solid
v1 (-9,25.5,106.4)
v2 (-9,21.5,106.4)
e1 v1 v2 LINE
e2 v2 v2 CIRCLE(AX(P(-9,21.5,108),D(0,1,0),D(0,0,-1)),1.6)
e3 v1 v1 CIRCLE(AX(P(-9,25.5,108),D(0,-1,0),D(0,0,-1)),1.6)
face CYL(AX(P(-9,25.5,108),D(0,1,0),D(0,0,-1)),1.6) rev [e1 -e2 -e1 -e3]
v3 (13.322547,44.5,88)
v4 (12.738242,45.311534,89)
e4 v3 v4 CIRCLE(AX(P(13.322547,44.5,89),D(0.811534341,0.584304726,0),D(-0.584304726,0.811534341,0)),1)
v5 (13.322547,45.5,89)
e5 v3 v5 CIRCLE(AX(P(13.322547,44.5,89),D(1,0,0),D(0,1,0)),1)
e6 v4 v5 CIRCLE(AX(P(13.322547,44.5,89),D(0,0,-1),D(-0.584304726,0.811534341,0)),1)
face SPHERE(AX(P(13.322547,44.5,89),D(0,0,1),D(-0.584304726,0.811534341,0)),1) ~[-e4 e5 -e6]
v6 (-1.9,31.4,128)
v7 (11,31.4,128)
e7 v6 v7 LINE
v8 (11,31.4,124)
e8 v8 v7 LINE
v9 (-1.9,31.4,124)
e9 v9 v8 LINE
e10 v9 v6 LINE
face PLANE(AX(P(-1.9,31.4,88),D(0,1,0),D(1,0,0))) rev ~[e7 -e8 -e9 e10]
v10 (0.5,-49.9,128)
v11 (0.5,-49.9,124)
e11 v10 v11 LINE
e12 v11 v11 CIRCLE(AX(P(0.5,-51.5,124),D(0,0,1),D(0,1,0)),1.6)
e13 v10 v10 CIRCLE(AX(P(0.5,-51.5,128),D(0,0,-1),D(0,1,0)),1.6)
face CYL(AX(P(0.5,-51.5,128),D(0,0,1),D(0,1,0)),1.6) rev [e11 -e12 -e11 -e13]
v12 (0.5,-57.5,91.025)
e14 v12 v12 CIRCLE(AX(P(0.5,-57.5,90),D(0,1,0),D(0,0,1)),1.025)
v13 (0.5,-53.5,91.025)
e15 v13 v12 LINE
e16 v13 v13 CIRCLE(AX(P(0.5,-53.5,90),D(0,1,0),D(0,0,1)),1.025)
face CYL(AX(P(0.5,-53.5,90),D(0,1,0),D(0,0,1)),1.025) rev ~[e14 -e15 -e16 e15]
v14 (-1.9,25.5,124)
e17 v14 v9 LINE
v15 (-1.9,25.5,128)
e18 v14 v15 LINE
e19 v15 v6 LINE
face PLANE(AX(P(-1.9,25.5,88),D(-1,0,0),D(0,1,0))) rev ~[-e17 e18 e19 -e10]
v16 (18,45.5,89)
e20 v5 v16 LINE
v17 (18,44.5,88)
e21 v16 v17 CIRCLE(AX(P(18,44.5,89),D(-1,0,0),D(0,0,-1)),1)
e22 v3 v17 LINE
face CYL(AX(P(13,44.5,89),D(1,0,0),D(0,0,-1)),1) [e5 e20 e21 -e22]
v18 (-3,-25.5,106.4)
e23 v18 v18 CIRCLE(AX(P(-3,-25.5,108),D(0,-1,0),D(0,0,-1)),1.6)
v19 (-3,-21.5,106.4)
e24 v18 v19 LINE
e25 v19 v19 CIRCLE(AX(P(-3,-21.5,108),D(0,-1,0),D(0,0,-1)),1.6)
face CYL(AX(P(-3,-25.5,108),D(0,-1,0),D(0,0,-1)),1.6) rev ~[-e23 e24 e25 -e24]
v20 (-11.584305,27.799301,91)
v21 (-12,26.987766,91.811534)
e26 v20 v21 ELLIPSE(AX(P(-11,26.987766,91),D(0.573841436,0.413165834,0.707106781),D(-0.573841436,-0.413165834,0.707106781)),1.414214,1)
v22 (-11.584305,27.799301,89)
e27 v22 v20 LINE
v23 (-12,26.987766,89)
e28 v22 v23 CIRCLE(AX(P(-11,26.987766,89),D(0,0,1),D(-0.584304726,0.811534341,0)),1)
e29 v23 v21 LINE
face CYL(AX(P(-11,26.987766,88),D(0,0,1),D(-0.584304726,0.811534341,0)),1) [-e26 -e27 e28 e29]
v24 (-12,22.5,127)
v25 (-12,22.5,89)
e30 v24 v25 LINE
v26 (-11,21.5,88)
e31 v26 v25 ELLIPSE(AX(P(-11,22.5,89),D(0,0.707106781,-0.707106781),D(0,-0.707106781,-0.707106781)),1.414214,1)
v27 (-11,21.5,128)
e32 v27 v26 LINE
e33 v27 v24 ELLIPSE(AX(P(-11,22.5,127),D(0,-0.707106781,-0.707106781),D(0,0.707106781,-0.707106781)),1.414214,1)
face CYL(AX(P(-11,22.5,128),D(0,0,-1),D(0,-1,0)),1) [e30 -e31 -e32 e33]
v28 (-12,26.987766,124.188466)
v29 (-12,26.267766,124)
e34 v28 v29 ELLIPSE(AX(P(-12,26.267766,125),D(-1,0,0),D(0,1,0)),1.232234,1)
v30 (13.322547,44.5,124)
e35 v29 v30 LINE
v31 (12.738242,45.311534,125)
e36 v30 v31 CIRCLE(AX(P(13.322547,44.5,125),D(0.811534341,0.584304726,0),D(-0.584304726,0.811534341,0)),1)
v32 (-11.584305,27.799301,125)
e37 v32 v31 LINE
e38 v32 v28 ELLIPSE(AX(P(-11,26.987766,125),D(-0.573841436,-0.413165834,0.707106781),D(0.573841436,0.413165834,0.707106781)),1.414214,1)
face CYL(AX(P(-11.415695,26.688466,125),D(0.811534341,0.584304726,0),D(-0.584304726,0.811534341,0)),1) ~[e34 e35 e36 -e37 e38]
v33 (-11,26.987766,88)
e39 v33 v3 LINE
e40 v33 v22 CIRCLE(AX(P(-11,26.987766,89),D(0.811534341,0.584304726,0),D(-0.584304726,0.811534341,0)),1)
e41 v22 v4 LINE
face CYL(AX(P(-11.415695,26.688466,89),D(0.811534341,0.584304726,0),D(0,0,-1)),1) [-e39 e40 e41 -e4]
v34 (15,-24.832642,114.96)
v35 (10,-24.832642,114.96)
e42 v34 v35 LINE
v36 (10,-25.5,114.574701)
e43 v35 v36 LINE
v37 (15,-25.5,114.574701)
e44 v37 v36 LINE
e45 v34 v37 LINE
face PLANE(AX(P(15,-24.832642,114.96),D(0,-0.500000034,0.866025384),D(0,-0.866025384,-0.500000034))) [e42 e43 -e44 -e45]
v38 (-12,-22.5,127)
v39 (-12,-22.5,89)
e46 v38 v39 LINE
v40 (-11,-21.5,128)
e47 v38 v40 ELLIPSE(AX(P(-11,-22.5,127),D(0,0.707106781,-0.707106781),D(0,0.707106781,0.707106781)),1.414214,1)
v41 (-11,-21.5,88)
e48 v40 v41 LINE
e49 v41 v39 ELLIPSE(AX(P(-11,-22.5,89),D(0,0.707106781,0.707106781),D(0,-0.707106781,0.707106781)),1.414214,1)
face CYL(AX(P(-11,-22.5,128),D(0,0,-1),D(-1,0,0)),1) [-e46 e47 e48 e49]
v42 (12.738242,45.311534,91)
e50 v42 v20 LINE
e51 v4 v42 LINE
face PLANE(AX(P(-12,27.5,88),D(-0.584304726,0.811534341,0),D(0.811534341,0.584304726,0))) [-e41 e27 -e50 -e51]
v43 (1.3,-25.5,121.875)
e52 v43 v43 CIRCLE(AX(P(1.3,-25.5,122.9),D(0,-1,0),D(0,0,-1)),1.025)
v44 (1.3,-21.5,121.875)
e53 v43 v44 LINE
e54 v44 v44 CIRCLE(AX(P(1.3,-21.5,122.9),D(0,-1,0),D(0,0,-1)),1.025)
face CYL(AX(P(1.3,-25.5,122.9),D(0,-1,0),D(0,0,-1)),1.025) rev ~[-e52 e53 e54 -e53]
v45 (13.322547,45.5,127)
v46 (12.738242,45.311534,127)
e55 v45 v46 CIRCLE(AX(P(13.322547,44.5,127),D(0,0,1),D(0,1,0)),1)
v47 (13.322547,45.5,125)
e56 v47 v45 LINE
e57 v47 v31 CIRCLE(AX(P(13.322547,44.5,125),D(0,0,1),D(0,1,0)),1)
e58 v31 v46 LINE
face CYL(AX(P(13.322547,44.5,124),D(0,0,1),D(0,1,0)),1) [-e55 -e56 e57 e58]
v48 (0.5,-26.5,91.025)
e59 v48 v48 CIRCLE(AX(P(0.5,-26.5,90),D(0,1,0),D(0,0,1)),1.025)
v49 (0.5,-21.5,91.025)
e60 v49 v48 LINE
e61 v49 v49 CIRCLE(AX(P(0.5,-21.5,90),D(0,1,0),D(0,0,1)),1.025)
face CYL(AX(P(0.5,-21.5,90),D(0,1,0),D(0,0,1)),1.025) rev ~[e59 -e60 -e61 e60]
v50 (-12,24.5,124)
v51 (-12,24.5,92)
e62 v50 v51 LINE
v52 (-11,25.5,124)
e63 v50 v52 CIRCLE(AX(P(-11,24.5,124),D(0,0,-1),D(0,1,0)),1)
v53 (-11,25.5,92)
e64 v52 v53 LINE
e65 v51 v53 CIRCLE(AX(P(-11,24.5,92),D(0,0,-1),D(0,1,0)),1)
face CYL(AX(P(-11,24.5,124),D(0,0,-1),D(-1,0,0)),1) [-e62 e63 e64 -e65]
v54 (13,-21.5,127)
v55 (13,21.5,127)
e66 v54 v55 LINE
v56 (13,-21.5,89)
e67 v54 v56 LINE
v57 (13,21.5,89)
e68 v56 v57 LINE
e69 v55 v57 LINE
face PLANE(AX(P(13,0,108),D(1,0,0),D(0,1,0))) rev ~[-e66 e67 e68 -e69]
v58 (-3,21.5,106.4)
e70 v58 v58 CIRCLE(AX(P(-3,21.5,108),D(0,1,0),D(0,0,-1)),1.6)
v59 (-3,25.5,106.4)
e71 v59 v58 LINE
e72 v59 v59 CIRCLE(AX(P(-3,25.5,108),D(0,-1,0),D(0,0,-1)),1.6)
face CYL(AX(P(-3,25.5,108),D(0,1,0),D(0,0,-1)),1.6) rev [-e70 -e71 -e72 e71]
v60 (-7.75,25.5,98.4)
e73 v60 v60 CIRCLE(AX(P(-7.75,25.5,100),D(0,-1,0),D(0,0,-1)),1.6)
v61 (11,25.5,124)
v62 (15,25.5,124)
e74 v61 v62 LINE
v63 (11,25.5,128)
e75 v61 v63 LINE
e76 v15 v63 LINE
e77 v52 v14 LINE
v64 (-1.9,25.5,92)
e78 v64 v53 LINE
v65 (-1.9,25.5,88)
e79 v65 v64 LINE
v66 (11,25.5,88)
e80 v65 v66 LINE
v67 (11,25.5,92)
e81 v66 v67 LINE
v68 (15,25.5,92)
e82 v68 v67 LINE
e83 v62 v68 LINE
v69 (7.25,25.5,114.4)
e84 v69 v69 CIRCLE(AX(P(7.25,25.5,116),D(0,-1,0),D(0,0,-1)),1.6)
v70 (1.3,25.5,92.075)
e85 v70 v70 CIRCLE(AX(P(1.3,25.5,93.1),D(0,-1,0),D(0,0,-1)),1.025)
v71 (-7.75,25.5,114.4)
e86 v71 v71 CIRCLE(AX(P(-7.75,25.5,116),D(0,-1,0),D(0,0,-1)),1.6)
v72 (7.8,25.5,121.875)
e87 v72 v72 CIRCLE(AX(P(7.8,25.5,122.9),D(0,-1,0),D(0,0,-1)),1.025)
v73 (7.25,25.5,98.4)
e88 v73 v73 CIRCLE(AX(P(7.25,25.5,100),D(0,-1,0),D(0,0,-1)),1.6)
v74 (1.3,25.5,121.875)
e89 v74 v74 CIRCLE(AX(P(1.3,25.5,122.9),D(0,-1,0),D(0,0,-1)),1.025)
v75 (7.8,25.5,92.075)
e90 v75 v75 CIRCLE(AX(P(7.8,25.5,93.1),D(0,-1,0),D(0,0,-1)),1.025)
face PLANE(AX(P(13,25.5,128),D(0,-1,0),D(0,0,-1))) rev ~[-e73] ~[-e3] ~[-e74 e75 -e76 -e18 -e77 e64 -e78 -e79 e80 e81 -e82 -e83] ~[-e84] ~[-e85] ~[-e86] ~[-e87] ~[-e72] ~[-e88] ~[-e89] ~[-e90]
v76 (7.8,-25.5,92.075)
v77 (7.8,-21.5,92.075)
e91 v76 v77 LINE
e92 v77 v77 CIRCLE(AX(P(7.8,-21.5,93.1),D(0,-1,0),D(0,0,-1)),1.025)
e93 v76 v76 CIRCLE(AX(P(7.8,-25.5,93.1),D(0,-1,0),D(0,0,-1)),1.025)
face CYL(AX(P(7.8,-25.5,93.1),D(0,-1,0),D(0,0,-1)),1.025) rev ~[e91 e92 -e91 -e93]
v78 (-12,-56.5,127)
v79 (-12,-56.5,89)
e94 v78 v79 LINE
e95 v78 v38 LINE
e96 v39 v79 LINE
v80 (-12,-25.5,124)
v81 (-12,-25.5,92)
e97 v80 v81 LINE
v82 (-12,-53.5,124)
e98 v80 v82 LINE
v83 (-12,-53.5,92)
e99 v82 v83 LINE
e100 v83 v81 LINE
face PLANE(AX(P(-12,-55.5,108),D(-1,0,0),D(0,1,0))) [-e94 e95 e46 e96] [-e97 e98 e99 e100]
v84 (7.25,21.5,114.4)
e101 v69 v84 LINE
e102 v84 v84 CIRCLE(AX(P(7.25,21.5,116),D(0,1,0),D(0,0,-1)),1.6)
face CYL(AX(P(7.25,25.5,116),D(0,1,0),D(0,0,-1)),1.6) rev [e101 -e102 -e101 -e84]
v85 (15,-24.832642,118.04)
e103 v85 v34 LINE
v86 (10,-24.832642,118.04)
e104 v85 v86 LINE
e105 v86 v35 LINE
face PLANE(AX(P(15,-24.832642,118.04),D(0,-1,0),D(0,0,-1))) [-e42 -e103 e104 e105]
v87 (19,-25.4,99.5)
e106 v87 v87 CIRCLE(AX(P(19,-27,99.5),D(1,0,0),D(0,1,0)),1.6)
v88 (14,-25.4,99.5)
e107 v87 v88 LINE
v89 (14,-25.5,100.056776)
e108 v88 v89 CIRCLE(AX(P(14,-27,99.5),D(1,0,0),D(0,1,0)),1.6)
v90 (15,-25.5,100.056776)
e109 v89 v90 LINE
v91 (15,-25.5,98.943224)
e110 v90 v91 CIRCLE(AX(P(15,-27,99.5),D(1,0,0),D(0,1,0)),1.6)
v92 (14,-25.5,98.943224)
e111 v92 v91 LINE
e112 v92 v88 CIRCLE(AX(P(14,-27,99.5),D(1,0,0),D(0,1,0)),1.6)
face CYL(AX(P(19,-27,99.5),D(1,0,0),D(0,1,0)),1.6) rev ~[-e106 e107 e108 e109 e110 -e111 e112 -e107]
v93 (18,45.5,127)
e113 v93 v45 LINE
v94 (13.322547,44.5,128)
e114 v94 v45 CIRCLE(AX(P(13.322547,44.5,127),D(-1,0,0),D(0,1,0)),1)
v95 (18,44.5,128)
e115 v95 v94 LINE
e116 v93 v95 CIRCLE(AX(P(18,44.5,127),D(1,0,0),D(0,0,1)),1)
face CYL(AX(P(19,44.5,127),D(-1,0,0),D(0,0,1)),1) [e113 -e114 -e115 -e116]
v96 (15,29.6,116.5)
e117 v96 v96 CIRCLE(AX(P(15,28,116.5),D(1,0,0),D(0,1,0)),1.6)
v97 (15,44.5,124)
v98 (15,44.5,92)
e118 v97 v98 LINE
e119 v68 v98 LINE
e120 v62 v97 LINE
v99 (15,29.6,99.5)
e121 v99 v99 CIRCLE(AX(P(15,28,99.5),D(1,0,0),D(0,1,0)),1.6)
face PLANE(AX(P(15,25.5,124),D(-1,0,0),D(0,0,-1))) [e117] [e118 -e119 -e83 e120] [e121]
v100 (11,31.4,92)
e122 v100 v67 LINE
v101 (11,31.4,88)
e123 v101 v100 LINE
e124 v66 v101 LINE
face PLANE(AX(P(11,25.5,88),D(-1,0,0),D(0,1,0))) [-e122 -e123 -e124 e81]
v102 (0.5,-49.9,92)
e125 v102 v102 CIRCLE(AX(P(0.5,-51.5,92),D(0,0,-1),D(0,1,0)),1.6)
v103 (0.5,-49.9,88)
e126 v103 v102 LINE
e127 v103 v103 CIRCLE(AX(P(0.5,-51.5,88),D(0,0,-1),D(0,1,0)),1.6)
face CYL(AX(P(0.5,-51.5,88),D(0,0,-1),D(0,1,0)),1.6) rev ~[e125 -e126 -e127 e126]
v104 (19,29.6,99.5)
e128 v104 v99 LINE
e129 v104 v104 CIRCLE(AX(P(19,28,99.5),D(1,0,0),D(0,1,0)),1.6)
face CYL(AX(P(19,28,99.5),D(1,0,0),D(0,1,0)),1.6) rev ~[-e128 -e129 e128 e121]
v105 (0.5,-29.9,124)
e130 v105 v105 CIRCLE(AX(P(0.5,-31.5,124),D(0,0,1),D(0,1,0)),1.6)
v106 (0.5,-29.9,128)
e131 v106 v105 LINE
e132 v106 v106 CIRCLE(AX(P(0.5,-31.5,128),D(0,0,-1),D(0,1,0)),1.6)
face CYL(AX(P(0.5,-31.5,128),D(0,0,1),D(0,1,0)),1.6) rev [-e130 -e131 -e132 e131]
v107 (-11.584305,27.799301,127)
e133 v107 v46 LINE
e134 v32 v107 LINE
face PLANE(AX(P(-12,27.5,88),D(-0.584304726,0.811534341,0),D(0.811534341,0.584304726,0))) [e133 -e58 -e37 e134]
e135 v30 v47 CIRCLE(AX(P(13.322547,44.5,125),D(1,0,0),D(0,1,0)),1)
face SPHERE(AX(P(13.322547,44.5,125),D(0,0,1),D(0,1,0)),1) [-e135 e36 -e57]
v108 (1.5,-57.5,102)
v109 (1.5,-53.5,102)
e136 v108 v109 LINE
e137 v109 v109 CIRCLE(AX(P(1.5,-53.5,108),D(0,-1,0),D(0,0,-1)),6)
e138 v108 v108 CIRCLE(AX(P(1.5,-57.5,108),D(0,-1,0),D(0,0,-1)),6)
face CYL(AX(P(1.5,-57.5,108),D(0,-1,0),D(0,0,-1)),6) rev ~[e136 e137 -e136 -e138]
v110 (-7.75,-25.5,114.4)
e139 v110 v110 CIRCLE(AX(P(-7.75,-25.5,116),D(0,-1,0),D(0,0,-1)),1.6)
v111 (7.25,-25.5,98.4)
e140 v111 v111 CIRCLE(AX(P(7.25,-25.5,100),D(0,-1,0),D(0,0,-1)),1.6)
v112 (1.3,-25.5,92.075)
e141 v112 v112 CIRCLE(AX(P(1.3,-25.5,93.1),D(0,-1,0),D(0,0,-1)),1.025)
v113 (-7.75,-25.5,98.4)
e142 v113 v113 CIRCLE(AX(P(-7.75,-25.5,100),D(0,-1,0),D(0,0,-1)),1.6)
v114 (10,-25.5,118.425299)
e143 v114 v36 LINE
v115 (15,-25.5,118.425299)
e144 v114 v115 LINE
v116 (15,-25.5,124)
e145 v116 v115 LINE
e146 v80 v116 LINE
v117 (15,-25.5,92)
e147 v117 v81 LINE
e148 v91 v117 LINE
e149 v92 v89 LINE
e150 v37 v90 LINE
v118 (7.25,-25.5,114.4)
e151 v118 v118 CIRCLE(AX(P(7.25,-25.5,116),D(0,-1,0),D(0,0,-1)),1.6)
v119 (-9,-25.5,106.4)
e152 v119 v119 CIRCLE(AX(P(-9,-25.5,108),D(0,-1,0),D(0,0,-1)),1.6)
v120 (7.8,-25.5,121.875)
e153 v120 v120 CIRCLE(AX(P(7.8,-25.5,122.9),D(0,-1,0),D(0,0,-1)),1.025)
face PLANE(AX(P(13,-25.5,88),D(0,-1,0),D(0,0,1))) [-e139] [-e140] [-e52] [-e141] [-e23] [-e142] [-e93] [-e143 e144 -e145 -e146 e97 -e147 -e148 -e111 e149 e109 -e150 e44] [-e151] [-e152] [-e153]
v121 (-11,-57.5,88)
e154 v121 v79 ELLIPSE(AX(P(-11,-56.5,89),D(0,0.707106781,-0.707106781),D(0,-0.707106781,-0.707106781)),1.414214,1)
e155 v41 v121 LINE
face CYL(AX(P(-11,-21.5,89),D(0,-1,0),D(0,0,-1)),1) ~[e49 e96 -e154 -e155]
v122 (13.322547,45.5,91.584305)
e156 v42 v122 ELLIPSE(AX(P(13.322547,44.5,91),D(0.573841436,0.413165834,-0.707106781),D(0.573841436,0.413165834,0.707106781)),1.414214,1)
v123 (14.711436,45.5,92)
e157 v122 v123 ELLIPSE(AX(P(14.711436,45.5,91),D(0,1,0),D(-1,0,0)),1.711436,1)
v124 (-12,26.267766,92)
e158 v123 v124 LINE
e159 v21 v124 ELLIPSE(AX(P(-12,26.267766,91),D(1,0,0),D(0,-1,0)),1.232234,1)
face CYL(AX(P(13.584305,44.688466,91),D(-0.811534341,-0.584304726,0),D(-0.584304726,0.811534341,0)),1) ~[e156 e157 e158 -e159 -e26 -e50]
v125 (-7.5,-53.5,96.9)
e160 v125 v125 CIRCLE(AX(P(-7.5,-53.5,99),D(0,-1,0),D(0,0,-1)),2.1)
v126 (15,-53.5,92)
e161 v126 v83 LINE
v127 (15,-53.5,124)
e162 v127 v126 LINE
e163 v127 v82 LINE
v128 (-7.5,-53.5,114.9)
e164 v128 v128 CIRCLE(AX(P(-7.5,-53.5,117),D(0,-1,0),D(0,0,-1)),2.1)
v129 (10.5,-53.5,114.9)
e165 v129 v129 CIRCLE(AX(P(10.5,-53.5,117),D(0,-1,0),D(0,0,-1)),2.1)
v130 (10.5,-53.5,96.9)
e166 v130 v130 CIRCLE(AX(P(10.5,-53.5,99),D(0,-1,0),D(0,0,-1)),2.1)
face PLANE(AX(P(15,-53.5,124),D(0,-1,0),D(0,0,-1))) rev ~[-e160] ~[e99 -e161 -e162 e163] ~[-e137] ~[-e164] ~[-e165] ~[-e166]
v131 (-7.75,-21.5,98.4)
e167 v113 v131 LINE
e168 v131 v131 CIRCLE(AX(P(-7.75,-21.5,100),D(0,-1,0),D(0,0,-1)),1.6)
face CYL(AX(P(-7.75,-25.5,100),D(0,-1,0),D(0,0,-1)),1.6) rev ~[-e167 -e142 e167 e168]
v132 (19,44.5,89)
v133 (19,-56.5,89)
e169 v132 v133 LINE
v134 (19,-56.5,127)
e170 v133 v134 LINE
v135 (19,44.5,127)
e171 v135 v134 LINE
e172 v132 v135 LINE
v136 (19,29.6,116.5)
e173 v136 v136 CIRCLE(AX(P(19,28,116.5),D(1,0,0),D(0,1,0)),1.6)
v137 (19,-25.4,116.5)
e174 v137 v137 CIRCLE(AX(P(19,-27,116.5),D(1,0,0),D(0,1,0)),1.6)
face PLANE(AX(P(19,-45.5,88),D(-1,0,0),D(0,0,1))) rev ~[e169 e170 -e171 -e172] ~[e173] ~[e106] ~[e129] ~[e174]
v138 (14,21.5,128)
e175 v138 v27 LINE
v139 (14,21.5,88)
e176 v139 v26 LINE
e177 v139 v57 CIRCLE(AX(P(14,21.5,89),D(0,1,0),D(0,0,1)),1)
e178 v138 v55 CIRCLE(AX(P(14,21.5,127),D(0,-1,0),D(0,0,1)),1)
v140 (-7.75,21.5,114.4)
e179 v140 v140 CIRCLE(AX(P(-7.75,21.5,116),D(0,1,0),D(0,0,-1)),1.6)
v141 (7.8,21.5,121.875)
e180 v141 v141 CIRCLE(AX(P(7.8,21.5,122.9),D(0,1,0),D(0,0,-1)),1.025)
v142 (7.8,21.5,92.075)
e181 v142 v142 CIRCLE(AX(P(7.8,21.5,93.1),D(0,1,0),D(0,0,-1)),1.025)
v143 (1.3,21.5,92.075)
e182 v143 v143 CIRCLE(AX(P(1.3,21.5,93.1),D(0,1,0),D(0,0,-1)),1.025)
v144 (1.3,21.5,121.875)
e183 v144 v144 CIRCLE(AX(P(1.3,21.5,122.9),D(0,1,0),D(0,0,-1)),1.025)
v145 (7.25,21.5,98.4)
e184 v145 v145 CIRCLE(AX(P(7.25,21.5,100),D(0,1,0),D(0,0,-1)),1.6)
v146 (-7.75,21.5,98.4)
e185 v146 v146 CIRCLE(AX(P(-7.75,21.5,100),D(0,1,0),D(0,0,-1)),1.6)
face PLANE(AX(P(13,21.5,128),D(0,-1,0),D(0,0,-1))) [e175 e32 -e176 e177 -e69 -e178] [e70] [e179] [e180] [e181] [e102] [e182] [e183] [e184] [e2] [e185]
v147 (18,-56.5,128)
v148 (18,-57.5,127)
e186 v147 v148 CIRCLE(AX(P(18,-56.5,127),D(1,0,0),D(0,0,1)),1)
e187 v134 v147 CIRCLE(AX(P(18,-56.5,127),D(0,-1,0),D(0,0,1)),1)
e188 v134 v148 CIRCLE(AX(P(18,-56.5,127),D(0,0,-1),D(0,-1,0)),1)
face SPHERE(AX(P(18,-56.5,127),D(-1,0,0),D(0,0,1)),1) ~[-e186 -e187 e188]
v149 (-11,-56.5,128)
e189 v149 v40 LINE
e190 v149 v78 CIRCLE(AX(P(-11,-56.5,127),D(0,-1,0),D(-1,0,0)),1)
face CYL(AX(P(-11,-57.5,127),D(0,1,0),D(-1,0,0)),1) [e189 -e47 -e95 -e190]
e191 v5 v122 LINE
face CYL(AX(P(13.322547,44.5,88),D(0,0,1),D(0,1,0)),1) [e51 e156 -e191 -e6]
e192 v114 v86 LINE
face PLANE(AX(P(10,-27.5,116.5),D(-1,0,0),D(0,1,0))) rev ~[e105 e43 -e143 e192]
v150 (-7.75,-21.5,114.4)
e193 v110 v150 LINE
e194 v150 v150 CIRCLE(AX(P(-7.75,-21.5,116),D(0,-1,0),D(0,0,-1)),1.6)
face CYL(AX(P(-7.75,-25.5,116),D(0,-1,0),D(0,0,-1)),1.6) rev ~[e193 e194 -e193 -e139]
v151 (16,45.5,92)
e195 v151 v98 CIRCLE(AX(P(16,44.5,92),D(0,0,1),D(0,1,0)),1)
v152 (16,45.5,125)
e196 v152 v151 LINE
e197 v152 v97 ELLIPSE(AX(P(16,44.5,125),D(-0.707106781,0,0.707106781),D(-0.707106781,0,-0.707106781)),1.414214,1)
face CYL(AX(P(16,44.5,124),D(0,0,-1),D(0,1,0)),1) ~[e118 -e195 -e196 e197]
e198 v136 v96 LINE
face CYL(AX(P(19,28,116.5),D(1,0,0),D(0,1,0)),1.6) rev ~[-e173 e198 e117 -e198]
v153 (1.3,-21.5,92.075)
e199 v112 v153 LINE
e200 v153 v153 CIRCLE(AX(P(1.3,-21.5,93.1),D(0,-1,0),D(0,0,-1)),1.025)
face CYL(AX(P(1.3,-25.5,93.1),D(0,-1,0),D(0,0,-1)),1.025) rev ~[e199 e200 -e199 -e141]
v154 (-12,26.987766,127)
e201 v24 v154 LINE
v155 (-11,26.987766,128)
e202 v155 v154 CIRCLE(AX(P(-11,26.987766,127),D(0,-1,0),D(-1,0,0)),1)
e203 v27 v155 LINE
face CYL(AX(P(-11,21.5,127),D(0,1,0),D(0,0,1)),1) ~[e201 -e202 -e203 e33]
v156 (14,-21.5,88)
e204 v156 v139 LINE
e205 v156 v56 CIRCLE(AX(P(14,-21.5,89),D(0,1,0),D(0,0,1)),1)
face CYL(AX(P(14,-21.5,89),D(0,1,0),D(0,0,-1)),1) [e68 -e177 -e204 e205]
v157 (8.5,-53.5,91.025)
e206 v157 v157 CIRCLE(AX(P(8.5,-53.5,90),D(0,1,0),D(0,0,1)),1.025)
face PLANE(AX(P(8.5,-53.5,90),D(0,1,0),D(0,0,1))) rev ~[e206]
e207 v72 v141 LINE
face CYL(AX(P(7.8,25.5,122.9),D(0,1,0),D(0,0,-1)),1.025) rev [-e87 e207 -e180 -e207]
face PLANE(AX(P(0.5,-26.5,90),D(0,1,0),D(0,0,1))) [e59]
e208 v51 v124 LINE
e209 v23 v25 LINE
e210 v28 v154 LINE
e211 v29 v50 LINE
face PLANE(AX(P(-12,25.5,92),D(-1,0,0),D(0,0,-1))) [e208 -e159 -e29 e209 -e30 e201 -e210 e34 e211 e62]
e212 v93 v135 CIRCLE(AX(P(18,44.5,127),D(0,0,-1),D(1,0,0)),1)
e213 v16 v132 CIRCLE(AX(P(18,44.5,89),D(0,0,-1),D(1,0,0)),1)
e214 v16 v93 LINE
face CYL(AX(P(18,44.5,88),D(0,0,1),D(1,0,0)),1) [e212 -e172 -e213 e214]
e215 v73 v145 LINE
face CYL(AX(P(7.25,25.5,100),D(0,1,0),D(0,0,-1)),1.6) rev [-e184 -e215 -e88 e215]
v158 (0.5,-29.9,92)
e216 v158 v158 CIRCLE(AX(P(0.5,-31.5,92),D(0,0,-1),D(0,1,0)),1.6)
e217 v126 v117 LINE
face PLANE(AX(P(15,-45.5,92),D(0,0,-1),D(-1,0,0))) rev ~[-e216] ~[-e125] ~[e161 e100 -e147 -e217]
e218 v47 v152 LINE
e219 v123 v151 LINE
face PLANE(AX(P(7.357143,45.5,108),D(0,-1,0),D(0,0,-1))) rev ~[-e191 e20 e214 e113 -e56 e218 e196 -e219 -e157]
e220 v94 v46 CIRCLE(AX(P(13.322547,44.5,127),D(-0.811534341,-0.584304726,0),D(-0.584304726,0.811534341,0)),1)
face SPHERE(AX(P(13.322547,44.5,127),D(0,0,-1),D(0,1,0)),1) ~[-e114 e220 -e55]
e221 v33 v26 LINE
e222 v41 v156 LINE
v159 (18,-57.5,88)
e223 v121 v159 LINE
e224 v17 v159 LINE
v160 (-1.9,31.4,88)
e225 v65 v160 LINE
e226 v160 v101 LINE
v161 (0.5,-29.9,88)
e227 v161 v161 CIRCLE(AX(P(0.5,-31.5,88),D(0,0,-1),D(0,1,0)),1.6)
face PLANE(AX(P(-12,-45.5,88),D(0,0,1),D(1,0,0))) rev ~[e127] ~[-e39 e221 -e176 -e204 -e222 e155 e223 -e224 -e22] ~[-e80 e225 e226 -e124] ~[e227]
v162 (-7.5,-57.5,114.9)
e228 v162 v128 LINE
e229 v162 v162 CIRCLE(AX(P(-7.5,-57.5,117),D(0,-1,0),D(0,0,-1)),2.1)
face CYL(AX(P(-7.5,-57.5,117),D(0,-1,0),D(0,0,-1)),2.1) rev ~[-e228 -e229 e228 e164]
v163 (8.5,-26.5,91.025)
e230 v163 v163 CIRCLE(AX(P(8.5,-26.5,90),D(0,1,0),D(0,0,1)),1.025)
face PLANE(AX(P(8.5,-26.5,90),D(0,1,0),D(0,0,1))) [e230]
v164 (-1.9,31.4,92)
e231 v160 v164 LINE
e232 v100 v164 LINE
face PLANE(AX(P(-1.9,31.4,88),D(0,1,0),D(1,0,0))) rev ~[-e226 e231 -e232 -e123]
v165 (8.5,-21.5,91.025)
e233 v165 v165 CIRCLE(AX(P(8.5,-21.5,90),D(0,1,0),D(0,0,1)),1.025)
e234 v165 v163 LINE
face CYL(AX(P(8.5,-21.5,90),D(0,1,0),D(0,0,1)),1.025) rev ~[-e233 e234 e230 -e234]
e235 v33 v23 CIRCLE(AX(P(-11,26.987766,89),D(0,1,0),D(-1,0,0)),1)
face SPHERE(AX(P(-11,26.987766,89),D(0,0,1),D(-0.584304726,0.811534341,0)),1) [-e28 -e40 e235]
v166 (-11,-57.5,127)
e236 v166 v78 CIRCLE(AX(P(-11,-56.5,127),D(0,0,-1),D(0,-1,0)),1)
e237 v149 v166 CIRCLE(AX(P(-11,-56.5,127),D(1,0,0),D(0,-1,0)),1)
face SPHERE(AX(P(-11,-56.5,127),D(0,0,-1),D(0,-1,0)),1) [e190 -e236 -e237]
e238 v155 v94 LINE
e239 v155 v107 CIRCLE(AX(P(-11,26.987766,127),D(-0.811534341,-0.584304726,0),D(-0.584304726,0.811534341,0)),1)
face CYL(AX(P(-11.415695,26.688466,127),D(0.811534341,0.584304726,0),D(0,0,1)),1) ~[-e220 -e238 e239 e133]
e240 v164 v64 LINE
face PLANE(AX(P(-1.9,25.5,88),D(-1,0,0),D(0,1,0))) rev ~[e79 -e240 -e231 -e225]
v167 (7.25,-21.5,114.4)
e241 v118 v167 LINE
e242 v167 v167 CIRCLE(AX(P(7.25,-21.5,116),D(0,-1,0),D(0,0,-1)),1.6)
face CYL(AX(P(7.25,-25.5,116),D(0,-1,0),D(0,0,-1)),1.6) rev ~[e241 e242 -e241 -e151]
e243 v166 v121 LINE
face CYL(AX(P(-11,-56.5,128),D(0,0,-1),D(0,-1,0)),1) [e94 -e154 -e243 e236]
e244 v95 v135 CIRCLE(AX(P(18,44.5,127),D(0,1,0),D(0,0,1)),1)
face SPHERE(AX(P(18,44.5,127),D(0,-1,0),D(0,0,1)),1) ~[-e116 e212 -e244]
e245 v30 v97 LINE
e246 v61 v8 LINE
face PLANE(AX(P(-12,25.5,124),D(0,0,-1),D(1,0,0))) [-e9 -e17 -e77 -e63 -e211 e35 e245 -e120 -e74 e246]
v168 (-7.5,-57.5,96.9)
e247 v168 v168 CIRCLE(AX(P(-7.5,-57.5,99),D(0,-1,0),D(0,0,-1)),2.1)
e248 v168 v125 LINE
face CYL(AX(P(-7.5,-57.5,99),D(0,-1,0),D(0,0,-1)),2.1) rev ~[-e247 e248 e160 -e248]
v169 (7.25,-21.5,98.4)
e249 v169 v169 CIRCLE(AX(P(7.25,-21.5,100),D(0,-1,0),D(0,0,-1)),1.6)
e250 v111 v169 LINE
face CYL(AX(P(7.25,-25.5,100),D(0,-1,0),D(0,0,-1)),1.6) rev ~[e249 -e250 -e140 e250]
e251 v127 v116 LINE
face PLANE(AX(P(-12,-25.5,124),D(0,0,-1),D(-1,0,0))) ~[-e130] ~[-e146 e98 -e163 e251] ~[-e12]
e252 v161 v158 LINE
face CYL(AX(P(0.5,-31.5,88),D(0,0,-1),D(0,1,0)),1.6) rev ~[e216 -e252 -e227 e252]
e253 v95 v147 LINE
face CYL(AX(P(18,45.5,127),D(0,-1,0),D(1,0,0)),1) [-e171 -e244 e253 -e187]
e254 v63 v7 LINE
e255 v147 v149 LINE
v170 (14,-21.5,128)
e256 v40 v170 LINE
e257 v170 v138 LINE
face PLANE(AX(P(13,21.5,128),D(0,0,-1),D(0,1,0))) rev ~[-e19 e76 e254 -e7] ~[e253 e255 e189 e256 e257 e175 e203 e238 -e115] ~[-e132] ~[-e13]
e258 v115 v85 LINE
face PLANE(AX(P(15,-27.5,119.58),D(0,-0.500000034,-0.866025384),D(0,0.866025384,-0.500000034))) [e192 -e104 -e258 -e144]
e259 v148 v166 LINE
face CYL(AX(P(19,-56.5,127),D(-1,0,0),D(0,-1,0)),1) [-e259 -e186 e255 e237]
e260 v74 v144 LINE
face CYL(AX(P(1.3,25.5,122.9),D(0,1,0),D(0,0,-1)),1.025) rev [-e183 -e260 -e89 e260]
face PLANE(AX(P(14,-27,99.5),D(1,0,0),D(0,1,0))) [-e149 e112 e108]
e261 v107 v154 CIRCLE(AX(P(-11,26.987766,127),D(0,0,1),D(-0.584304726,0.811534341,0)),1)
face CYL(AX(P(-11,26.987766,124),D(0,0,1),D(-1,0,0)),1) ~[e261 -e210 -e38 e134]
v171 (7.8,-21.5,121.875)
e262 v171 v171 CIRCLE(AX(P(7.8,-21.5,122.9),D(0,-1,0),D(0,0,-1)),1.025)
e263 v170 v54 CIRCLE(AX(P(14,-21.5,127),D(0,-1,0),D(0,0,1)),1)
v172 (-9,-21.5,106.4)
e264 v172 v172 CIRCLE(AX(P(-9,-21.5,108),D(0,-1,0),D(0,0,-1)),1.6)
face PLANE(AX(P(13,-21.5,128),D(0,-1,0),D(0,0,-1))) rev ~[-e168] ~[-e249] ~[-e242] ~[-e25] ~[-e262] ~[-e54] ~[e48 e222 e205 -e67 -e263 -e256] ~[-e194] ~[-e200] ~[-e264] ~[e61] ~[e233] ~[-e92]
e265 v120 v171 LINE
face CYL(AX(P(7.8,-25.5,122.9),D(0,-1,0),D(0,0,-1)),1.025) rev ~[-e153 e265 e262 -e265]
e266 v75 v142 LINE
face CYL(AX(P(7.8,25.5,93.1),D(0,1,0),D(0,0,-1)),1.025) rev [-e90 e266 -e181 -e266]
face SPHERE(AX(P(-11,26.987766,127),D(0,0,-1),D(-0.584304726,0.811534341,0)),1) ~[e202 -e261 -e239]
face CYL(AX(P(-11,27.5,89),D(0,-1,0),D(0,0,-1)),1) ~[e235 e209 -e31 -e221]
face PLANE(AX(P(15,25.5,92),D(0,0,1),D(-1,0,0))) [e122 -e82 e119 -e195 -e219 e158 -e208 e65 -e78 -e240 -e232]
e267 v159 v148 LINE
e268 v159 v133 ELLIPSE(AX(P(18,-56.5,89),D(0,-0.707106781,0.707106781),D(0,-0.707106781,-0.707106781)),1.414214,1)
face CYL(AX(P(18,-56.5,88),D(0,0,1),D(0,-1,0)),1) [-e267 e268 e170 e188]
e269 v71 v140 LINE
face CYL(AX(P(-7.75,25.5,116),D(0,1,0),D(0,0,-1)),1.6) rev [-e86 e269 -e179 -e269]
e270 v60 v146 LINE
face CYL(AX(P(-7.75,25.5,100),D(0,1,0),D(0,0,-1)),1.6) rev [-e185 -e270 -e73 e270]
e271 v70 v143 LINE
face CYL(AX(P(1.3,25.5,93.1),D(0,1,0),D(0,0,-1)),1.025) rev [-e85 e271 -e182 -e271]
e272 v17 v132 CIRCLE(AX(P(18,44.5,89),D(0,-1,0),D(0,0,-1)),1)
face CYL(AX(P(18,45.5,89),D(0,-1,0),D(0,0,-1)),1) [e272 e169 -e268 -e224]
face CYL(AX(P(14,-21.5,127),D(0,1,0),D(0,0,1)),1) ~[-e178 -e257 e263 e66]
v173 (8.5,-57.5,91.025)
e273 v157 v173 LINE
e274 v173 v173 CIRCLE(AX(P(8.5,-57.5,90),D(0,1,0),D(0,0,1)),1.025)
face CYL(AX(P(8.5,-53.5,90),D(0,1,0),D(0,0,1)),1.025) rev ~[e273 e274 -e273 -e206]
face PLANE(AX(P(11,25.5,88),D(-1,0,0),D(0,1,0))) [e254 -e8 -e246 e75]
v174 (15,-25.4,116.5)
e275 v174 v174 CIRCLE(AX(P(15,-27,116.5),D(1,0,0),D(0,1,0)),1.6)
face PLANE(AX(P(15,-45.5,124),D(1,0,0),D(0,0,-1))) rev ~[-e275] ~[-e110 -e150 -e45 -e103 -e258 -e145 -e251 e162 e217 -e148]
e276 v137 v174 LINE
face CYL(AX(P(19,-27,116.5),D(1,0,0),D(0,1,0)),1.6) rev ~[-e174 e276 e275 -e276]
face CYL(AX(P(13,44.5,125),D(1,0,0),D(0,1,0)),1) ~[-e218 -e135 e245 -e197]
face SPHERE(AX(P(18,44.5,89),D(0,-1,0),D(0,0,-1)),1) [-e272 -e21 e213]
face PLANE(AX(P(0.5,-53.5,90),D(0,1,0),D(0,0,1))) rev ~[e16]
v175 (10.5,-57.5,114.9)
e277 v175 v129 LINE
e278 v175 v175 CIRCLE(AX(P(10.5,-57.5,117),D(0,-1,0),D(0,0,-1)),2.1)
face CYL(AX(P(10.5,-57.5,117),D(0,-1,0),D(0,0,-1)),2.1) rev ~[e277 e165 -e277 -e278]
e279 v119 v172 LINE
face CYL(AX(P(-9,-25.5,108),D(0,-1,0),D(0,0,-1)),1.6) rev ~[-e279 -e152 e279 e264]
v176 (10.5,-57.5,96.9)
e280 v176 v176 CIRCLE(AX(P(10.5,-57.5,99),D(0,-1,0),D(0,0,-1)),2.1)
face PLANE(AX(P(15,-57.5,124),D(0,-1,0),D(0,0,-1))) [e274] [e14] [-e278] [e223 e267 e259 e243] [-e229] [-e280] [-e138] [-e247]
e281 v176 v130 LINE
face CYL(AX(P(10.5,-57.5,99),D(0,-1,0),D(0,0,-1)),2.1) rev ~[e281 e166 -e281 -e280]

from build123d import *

# Parameters (mm, degrees)
SKETCH_W               = 51
SKETCH_H               = 40
PAD_DEPTH              = 6
SKETCH002_W            = 4
SKETCH002_H            = 40
PAD001_DEPTH           = 25
PAD009_DEPTH           = 20
SKETCH031_W            = 5.9
SKETCH031_H            = 12.9
POCKET009_DEPTH        = 40
PAD010_DEPTH           = 12
SKETCH032_R            = 1.6
SKETCH032_R_2          = 1.025
POCKET010_DEPTH        = 5
SKETCH033_R            = 1.6
POCKET011_DEPTH        = 5
POCKET012_DEPTH        = 5
SKETCH042_R            = 1.6
POCKET019_DEPTH        = 5
SKETCH043_R            = 1.025
POCKET020_DEPTH        = 5
LINEARPATTERN004_COUNT = 2
LINEARPATTERN004_PITCH = 32
SKETCH044_W            = 4
SKETCH044_H            = 32
PAD015_DEPTH           = 27
SKETCH045_R            = 6
SKETCH045_R_2          = 2.1
POCKET021_DEPTH        = 5
FILLET001_R            = 1


with BuildPart() as part:
    # Sketch → Pad (new body)
    with BuildSketch(Plane.YZ):
        Rectangle(SKETCH_W, SKETCH_H)
    extrude(amount=PAD_DEPTH)

    # Sketch002 (on Face5 of Pad) → Pad001 (join)
    with BuildSketch(Plane(origin=(0, 0, 0), x_dir=(0, 1, 0), z_dir=(-1, 0, 0))):
        with Locations((23.5, 0)):
            Rectangle(SKETCH002_W, SKETCH002_H)
        with Locations((-23.5, 0)):
            Rectangle(SKETCH002_W, SKETCH002_H)
    extrude(amount=PAD001_DEPTH)

    # Sketch030 (on Face9 of Pad001) → Pad009 (join)
    with BuildSketch(Plane.ZX.offset(25.5)):
        Polygon((-16, -25), (-20, -25), (-20, 6), (20, 6), (20, -25), (16, -25), (16, 2), (-16, 2), align=None)
    pad009 = extrude(amount=PAD009_DEPTH)

    # Sketch031 (on Face12 of Pad009) → Pocket009 (cut)
    with BuildSketch(Plane.YX.offset(20)):
        Polygon((27.5, -25), (45.5, 0), (45.5, -25), align=None)
        with Locations((28.45, -8.45)):
            Rectangle(SKETCH031_W, SKETCH031_H)
    extrude(amount=-POCKET009_DEPTH, mode=Mode.SUBTRACT)

    # Mirrored: Pad009 across XZ
    add(pad009.mirror(Plane.XZ))

    # Mirrored Face21 → Pad010 (add)
    with BuildSketch(Plane(origin=(-4.904255, -45.5, 0), x_dir=(-1, 0, 0), z_dir=(0, -1, 0))):
        Polygon((20.095745, 16), (20.095745, 20), (-10.904255, 20), (-10.904255, -20), (20.095745, -20), (20.095745, -16), (-6.904255, -16), (-6.904255, 16), align=None)
    extrude(amount=PAD010_DEPTH)

    # Sketch032 (on Face19 of Pad010) → Pocket010 (cut)
    with BuildSketch(Plane(origin=(0, -25.5, 0), x_dir=(0, 0, -1), z_dir=(0, -1, 0))):
        with Locations((-8, -5.75)):
            Circle(SKETCH032_R)
        with Locations((8, -5.75)):
            Circle(SKETCH032_R)
        with Locations((8, -20.75)):
            Circle(SKETCH032_R)
        with Locations((-8, -20.75)):
            Circle(SKETCH032_R)
        with Locations((-14.9, -5.2)):
            Circle(SKETCH032_R_2)
        with Locations((-14.9, -11.7)):
            Circle(SKETCH032_R_2)
        with Locations((14.9, -5.2)):
            Circle(SKETCH032_R_2)
        with Locations((14.9, -11.7)):
            Circle(SKETCH032_R_2)
        with Locations((0, -16)):
            Circle(SKETCH032_R)
        with Locations((0, -22)):
            Circle(SKETCH032_R)
    pocket010 = extrude(amount=-POCKET010_DEPTH, mode=Mode.SUBTRACT)

    # Mirrored001: Pocket010 across XZ
    add(pocket010.mirror(Plane.XZ), mode=Mode.SUBTRACT)

    # Sketch033 (on Face30 of Mirrored001) → Pocket011 (cut)
    with BuildSketch(Plane.YZ.offset(6)):
        with Locations((-27, 8.5)):
            Circle(SKETCH033_R)
        with Locations((28, 8.5)):
            Circle(SKETCH033_R)
        with Locations((28, -8.5)):
            Circle(SKETCH033_R)
        with Locations((-27, -8.5)):
            Circle(SKETCH033_R)
    extrude(amount=-POCKET011_DEPTH, mode=Mode.SUBTRACT)

    # Sketch034 (on Face48 of Pocket011) → Pocket012 (cut)
    with BuildSketch(Plane(origin=(2, 0, 0), x_dir=(0, 1, 0), z_dir=(-1, 0, 0))):
        Polygon((-27.5, -5.42), (-30.167358, -6.96), (-30.167358, -10.04), (-27.5, -11.58), (-24.832642, -10.04), (-24.832642, -6.96), align=None)
    extrude(amount=POCKET012_DEPTH, mode=Mode.SUBTRACT)

    # Sketch042 (on Face13 of Pocket012) → Pocket019 (cut)
    with BuildSketch(Plane.YX.offset(20)):
        with Locations((-31.5, -12.5)):
            Circle(SKETCH042_R)
        with Locations((-51.5, -12.5)):
            Circle(SKETCH042_R)
    pocket019 = extrude(amount=-POCKET019_DEPTH, mode=Mode.SUBTRACT)

    # Mirrored005: Pocket019 across XY
    add(pocket019.mirror(Plane.XY), mode=Mode.SUBTRACT)

    # Sketch043 (on Face27 of Mirrored005) → Pocket020 (cut)
    with BuildSketch(Plane.ZX.offset(-21.5)):
        with Locations((-18, -12.5)):
            Circle(SKETCH043_R)
        with Locations((-18, -4.5)):
            Circle(SKETCH043_R)
    pocket020 = extrude(amount=-POCKET020_DEPTH, mode=Mode.SUBTRACT)

    # LinearPattern004: Pocket020 ×2
    with Locations(*[(0, -i * LINEARPATTERN004_PITCH, 0) for i in range(1, LINEARPATTERN004_COUNT)]):
        add(pocket020, mode=Mode.SUBTRACT)

    # Sketch044 (on Face54 of LinearPattern004) → Pad015 (join)
    with BuildSketch(Plane(origin=(2, 0, 0), x_dir=(0, 1, 0), z_dir=(-1, 0, 0))):
        with Locations((-55.5, 0)):
            Rectangle(SKETCH044_W, SKETCH044_H)
    extrude(amount=PAD015_DEPTH)

    # Sketch045 (on Face64 of Pad015) → Pocket021 (cut)
    with BuildSketch(Plane(origin=(0, -57.5, 0), x_dir=(0, 0, -1), z_dir=(0, -1, 0))):
        with Locations((0, -11.5)):
            Circle(SKETCH045_R)
        with Locations((-9, -2.5)):
            Circle(SKETCH045_R_2)
        with Locations((9, -2.5)):
            Circle(SKETCH045_R_2)
        with Locations((9, -20.5)):
            Circle(SKETCH045_R_2)
        with Locations((-9, -20.5)):
            Circle(SKETCH045_R_2)
    extrude(amount=-POCKET021_DEPTH, mode=Mode.SUBTRACT)

    # Fillet001
    fillet001_edges = [part.edges().sort_by_distance(p)[0] for p in [
        (-25, -57.5, 0),
        (6, -6, -20),
        (-9.5, -57.5, 20),
        (6, -6, 20),
        (-25, -39.5, 20),
        (-25, -39.5, -20),
        (-25, -21.5, 0),
        (-25, 27.5, -18),
        (-12.5, 36.5, -20),
        (-25, 25.5, 0),
        (-25, 27.5, 18),
        (3, 45.5, -20),
        (3, 45.5, 20),
        (-12.5, 36.5, 20),
        (0, 0, 20),
        (0, 0, -20),
        (6, -57.5, 0),
        (-25, 24.5, 20),
        (-25, 24.5, -20),
        (-25, 21.5, 0),
        (2, 45.5, 0),
        (-12.5, 36.5, 16),
        (-12.5, 36.5, -16),
        (0, 45.5, -18),
        (0, 45.5, 18),
        (1, 45.5, 16),
        (6, 45.5, 0),
    ]]
    fillet(fillet001_edges, radius=FILLET001_R)


with BuildPart() as part_1:
    # Body placement: moved
    add(part.part.moved(Location((13, 0, 108))))


solid = part_1.part
